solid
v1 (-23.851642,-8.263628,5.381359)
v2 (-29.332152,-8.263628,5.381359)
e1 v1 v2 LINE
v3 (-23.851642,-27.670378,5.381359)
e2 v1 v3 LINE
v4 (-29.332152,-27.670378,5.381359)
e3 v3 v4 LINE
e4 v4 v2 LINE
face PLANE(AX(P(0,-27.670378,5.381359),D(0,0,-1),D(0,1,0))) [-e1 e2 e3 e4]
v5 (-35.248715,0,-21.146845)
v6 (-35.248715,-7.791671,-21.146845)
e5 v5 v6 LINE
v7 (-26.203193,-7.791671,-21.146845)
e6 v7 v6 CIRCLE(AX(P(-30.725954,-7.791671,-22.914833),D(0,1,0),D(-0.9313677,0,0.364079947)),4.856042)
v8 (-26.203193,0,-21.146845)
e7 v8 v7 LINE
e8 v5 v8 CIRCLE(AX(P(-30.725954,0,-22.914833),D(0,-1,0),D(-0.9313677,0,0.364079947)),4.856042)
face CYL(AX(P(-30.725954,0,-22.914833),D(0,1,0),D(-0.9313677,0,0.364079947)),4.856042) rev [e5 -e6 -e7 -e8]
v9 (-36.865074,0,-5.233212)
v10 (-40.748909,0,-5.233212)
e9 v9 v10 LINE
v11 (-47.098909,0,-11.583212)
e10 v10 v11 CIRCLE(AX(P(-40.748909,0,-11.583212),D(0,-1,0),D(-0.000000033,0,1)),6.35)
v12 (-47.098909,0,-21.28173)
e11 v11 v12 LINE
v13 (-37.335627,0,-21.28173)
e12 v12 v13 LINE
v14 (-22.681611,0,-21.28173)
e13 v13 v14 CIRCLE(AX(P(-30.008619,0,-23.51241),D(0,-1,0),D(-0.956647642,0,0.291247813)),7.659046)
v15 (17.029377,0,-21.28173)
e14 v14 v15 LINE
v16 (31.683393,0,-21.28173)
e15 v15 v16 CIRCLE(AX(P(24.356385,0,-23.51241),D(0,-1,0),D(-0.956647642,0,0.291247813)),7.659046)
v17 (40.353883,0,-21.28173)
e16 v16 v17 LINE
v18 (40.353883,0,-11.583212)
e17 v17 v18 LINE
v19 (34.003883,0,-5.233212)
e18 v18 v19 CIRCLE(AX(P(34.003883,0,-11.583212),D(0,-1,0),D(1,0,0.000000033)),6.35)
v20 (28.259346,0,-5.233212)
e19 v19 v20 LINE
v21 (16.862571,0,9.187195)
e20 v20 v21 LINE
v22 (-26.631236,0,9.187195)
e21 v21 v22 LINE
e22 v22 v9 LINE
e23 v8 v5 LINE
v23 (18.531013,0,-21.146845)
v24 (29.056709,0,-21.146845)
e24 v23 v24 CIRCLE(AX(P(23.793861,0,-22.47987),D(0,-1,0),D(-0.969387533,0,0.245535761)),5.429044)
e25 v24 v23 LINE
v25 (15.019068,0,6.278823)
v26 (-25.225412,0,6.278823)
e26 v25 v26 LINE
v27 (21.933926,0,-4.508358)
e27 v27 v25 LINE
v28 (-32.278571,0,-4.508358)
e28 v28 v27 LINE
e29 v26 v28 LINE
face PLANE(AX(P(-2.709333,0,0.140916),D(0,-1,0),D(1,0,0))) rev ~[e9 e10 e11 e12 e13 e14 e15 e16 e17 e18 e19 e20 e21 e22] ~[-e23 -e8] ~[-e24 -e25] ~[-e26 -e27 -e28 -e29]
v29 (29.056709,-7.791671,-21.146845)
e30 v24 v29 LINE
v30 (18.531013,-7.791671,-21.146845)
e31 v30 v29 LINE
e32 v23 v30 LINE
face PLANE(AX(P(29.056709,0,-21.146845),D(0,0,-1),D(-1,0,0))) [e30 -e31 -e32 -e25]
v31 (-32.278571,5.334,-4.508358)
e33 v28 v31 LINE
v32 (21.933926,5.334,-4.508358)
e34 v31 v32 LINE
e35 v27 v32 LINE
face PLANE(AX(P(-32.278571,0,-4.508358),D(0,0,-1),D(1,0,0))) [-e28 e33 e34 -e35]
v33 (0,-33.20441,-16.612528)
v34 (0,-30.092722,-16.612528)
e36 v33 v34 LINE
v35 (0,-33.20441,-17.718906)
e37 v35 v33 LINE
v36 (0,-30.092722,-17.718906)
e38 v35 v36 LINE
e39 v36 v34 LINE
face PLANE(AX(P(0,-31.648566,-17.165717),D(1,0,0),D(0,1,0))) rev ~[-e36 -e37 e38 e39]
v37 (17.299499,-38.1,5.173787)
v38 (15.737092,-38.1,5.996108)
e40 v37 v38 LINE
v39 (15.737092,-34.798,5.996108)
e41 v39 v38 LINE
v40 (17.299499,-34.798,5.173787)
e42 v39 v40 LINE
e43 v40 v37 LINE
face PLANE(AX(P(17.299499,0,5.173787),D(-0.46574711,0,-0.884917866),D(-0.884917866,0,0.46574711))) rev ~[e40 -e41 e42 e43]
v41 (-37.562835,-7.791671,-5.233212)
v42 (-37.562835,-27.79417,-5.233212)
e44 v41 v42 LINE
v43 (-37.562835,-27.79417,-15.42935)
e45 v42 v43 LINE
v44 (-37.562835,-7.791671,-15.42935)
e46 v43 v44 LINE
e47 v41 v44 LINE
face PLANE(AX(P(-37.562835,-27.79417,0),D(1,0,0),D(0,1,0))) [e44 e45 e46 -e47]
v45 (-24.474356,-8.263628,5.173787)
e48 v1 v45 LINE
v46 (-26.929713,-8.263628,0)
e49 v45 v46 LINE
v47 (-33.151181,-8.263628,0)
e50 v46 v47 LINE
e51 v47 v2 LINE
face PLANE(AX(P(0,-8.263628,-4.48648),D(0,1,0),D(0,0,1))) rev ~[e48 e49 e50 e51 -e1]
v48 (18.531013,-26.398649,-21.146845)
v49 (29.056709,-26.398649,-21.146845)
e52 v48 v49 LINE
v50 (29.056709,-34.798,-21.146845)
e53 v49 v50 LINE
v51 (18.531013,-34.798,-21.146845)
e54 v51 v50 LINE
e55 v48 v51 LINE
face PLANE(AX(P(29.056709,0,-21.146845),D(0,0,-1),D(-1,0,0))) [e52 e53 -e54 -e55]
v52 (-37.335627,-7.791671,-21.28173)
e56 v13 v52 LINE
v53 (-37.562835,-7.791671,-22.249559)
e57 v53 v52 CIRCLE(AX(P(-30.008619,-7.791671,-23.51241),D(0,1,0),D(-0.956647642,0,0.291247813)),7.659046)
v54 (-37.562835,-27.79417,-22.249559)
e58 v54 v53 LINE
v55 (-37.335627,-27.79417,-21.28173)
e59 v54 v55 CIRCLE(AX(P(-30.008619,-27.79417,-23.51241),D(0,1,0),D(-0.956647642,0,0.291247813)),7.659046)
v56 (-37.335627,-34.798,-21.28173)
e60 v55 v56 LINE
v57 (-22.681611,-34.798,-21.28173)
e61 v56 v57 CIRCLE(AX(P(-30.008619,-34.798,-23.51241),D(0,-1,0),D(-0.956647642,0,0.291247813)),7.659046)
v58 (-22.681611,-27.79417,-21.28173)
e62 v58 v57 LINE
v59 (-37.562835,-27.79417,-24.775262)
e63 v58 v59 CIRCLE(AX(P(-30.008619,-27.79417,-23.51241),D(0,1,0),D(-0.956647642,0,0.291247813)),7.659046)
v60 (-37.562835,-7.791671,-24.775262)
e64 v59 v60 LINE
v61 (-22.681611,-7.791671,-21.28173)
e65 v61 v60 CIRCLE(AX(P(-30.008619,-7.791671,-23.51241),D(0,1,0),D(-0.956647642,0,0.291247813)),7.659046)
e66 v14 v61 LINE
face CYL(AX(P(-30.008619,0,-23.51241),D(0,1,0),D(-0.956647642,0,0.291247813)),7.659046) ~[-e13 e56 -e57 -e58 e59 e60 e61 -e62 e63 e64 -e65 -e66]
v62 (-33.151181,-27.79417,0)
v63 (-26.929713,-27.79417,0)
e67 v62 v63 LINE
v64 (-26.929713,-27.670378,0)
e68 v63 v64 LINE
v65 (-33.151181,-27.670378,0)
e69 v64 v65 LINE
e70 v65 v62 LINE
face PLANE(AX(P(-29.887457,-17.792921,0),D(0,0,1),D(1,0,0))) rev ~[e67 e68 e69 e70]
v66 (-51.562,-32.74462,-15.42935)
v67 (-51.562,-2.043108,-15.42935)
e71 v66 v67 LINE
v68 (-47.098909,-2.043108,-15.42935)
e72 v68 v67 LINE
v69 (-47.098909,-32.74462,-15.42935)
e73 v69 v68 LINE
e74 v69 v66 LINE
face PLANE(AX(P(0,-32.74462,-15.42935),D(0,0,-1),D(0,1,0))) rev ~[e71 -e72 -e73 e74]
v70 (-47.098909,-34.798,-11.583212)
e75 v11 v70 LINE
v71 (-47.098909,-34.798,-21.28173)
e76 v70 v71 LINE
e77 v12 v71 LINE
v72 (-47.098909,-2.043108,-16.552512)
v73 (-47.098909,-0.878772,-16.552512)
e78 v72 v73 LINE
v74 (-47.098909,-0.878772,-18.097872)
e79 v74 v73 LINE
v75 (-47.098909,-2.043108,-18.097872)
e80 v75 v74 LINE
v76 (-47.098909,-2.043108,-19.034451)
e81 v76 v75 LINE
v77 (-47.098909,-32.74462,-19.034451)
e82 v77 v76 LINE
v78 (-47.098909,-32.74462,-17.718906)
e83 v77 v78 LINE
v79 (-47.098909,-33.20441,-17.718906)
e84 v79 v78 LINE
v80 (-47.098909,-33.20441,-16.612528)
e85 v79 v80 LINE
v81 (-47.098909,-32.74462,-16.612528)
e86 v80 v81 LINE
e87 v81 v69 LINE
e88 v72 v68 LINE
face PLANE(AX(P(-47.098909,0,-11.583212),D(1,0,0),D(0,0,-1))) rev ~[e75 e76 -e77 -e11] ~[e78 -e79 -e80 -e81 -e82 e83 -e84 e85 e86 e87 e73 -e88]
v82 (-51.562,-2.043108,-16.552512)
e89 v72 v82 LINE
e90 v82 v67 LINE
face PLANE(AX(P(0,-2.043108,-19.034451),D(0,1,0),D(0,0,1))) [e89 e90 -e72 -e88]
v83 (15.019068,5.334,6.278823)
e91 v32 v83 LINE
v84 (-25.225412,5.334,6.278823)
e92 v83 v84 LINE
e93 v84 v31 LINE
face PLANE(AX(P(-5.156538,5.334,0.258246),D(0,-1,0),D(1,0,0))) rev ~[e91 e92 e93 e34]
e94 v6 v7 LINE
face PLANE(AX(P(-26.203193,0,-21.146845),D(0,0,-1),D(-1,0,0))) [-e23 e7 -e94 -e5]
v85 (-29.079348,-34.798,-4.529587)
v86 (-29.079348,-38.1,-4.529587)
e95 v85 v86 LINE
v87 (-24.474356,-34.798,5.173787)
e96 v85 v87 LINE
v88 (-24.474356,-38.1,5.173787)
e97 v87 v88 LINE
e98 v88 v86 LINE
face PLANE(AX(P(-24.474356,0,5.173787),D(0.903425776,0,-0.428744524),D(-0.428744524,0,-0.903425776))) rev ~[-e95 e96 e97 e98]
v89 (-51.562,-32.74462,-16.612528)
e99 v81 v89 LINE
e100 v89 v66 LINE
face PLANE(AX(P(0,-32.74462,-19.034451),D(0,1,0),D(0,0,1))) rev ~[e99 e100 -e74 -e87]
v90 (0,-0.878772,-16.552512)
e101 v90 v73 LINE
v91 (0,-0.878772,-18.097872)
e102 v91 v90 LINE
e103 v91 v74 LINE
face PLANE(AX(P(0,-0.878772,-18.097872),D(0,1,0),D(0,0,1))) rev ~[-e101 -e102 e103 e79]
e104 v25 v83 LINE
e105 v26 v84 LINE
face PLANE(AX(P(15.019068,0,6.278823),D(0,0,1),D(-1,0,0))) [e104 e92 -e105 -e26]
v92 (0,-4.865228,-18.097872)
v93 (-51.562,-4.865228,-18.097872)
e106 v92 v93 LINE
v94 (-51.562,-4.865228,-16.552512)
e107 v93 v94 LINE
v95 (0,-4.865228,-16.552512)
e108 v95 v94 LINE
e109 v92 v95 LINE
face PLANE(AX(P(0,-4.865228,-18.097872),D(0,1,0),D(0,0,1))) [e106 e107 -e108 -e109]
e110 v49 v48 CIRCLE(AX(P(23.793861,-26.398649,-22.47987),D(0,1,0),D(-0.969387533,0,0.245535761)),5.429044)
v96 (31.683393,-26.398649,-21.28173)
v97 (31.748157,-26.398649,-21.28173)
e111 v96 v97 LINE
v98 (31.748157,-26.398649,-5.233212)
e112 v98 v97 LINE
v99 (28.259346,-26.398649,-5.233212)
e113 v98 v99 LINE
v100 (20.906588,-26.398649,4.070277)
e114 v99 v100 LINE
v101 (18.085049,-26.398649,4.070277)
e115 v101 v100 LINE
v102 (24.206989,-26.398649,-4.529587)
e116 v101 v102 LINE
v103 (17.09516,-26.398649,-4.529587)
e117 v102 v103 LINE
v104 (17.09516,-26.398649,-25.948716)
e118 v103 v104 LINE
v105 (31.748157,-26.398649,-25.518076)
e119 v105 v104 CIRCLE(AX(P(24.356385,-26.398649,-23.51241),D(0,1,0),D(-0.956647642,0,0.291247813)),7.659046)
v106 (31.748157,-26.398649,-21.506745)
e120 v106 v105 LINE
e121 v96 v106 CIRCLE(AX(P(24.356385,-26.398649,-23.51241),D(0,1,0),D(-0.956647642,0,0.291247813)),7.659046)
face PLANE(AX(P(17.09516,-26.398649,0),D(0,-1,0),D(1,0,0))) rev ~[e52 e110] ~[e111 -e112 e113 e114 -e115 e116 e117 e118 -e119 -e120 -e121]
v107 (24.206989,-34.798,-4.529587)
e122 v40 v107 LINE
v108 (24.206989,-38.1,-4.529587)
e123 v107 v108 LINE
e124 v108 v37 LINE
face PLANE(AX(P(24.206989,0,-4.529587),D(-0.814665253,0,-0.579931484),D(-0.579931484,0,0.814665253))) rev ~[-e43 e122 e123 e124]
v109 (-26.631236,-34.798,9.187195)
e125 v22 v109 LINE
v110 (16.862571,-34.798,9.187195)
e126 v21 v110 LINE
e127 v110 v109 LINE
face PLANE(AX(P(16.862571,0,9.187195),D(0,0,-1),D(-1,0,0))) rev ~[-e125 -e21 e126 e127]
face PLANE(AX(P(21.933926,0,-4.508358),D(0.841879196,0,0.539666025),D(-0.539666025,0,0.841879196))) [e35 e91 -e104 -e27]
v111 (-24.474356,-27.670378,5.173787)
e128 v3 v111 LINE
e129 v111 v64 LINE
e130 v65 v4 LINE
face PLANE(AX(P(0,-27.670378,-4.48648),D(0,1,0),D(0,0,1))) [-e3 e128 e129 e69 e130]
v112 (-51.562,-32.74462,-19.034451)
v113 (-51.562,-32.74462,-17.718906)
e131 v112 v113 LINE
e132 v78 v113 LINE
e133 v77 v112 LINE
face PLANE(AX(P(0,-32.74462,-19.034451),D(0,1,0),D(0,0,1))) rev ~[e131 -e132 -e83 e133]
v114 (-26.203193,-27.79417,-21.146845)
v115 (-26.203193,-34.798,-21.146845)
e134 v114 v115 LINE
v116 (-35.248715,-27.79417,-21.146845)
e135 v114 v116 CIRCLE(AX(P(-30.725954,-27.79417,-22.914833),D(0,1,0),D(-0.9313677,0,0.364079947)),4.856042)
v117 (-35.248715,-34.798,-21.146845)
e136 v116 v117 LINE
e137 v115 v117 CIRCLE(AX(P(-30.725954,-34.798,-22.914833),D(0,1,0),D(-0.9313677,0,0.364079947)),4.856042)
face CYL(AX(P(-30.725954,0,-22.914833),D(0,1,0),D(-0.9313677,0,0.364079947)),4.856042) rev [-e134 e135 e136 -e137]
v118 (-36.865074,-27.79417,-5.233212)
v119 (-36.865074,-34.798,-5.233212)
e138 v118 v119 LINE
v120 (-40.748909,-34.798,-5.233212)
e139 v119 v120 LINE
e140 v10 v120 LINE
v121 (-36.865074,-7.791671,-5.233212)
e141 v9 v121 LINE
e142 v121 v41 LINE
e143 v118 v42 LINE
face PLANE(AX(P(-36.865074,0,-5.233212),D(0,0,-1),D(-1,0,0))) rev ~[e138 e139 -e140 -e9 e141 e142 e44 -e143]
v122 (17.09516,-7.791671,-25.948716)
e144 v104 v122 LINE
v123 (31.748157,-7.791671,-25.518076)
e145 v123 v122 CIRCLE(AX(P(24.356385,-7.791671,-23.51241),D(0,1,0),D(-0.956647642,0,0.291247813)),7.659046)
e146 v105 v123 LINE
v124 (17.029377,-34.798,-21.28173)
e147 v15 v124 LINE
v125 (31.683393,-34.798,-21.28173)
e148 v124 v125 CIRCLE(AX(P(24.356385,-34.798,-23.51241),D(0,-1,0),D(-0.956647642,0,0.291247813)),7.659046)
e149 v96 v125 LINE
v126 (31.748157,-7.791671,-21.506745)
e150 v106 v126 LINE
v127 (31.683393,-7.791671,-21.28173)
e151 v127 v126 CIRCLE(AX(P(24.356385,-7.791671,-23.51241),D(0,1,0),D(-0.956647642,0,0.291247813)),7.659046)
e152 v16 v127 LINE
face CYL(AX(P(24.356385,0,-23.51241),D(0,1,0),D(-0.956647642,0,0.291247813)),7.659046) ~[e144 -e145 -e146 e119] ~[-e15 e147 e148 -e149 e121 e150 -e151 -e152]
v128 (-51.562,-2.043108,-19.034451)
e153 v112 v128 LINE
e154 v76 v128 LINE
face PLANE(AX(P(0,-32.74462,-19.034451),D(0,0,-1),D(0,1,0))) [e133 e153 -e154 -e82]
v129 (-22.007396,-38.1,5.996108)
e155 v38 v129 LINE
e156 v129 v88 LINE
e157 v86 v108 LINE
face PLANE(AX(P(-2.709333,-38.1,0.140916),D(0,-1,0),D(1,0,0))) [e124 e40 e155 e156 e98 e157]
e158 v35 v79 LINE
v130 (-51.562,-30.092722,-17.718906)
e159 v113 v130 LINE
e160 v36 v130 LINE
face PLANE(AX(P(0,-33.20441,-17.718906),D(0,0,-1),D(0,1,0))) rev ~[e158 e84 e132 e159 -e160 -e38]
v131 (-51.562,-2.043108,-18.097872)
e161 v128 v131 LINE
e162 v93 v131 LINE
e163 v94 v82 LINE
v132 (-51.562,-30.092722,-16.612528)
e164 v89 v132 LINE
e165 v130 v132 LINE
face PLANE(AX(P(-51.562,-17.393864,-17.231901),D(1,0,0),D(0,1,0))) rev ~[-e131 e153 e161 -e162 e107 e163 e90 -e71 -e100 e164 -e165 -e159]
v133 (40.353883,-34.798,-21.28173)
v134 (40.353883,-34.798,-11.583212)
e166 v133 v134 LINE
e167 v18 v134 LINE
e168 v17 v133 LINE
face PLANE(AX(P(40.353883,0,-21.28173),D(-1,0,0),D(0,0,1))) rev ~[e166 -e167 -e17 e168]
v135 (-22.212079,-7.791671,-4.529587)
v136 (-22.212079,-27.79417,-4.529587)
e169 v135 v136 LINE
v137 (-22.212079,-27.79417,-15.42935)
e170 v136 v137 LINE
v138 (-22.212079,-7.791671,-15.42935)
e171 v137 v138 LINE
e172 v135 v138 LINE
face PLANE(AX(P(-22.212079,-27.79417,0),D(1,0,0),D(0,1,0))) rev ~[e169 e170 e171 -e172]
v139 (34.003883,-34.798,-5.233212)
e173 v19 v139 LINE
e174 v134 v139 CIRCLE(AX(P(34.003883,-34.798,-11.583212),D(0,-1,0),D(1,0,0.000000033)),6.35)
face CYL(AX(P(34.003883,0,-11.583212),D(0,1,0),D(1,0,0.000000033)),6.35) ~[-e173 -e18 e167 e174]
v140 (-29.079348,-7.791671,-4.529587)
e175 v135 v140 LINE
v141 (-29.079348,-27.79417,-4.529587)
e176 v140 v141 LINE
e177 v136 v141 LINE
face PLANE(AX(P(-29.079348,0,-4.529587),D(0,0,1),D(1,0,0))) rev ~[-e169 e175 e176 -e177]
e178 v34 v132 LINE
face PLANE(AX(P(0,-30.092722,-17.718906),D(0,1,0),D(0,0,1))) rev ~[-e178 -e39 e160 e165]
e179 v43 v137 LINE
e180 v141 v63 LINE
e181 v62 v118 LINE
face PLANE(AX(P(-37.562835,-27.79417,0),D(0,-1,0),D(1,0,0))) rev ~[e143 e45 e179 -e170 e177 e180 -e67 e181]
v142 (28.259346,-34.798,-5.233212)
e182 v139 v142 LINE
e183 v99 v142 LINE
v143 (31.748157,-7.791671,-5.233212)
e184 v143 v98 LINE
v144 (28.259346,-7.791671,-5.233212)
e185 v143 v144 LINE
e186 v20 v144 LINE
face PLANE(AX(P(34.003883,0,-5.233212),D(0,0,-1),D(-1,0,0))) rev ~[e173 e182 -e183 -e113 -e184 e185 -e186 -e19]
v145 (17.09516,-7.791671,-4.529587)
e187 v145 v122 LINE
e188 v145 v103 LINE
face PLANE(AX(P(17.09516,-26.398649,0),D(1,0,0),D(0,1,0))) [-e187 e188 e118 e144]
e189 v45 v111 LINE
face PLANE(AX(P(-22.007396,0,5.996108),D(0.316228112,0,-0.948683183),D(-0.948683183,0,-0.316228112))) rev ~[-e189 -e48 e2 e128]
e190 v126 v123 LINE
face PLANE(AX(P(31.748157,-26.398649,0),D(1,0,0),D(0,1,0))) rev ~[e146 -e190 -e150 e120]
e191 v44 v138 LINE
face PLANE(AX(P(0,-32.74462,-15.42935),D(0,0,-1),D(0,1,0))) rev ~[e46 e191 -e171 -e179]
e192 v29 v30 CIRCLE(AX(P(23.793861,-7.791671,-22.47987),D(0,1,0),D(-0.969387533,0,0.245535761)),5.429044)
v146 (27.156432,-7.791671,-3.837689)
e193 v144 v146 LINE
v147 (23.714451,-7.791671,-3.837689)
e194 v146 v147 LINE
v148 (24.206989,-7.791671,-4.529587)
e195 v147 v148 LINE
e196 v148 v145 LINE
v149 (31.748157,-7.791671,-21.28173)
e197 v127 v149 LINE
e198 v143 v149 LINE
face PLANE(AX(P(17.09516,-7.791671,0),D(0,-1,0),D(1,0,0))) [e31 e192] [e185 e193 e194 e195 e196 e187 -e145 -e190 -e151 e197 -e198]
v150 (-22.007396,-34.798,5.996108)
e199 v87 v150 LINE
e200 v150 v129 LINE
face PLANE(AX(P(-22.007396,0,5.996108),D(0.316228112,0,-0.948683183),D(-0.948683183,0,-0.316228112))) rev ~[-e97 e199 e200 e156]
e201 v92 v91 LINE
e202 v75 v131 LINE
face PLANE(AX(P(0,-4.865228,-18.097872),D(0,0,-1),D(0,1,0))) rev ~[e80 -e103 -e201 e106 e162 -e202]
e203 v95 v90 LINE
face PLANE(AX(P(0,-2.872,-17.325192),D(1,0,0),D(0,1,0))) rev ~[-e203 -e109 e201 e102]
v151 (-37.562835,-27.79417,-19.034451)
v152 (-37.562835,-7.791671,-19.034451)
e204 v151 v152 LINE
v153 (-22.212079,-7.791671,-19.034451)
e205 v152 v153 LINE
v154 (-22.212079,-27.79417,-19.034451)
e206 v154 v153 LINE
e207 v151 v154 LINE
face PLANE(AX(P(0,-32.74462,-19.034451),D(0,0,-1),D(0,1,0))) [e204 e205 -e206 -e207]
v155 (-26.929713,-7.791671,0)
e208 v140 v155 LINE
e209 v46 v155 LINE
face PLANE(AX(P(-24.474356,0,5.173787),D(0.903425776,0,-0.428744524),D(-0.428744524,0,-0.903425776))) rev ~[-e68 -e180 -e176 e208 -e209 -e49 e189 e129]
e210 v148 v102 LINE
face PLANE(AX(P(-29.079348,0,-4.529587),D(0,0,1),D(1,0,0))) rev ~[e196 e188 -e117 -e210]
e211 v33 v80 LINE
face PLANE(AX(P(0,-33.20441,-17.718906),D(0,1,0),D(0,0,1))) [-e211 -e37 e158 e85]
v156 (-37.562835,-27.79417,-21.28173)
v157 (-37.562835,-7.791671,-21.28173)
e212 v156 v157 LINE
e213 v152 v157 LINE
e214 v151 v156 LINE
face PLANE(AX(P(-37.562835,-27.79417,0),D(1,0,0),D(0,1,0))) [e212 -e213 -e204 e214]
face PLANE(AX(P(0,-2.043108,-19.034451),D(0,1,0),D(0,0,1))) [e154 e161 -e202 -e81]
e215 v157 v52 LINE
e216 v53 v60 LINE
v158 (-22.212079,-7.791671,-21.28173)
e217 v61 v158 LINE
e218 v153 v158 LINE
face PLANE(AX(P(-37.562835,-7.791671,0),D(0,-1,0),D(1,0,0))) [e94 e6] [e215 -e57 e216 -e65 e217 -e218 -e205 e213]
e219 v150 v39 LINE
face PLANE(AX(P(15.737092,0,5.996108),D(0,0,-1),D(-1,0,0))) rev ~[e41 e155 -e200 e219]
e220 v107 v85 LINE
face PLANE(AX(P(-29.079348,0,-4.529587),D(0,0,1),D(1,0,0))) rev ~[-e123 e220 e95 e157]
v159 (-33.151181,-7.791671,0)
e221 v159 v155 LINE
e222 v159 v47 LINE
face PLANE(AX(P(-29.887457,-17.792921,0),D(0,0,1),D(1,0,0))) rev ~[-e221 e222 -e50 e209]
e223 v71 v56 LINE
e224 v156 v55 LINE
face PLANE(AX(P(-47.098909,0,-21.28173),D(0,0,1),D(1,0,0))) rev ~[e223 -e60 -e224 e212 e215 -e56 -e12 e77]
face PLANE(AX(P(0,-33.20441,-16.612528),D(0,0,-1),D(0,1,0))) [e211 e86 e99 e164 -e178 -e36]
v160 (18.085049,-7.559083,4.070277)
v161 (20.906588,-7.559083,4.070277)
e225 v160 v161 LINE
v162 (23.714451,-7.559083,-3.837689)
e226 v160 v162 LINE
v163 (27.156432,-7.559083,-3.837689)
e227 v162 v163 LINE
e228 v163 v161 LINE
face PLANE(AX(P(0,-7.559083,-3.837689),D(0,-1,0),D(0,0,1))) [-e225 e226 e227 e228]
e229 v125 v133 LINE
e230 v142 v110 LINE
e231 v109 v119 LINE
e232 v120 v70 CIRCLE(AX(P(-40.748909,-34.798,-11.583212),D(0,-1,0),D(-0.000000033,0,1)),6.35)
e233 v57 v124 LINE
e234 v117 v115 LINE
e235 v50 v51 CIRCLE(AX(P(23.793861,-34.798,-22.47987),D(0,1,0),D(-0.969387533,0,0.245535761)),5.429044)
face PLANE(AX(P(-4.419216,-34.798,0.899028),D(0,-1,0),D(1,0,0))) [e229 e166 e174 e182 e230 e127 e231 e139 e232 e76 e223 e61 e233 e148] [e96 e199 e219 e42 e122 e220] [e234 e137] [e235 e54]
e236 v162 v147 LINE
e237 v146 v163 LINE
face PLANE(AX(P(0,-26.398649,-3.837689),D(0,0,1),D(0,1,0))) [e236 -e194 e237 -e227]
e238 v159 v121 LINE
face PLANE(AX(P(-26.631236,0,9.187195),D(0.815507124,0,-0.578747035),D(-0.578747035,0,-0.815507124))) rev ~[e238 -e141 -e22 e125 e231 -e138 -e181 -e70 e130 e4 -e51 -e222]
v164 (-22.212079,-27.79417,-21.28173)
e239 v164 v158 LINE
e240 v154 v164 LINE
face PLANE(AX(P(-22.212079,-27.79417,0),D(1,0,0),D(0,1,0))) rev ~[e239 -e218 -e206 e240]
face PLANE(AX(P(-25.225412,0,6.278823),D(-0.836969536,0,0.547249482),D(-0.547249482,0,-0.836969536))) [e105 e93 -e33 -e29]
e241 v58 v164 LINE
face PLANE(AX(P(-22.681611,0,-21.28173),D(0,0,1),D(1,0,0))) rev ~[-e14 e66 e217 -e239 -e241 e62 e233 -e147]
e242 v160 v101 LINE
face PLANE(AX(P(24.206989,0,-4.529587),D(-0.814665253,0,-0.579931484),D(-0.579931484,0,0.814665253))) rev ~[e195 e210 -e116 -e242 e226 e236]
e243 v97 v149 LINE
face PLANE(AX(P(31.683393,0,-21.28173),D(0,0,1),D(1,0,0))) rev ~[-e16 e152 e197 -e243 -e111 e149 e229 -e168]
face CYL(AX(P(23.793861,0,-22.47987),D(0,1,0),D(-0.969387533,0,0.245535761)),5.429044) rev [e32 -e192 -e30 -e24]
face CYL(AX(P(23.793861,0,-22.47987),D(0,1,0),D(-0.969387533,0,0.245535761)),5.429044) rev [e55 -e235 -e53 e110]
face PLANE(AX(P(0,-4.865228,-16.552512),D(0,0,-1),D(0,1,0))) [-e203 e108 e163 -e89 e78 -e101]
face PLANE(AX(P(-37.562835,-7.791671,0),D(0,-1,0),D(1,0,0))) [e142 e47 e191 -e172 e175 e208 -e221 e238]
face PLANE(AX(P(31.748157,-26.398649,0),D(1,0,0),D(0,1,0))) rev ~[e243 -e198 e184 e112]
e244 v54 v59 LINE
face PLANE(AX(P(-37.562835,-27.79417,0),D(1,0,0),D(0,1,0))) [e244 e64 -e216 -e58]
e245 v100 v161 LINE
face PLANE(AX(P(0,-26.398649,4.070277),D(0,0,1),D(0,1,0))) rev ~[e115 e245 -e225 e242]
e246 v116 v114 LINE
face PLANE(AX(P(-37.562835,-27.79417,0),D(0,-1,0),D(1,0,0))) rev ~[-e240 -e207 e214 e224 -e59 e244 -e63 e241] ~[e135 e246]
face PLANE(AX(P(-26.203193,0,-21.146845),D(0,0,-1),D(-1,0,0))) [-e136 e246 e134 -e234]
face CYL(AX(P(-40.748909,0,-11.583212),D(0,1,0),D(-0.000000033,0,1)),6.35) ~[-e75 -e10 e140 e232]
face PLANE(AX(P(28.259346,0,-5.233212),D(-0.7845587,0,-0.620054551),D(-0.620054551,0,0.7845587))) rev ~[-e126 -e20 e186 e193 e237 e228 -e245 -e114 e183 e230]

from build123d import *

# Parameters (mm, degrees)
F1_DEPTH  = 34.798
F2_W      = 14.652997
F2_H      = 18.606977
F2_W_2    = 15.350757
F2_H_2    = 20.002499
F3_DEPTH  = 33.02
F4_W      = 19.40675
F4_H      = 9.867839
F5_DEPTH  = 230.124
F6_W      = 18.839565
F6_H      = 7.907965
F7_DEPTH  = 125.476
F9_DEPTH  = 83.566
F11_DEPTH = 38.1
F13_DEPTH = 5.334
F14_W     = 30.701512
F14_H     = 3.605101
F15_DEPTH = 51.562
F16_W     = 3.986457
F16_H     = 1.545359
F17_DEPTH = 90.932
F18_W     = 3.111688
F18_H     = 1.106378
F19_DEPTH = 112.1664


with BuildPart() as f1:
    # F0 (on Front) → F1 (new body)
    with BuildSketch(Plane.XZ):
        Polygon((-26.631236, 9.187195), (-36.865074, -5.233212), (28.259346, -5.233212), (16.862571, 9.187195), align=None)
        with BuildLine():
            Line((-36.865074, -5.233212), (-40.748909, -5.233212))
            ThreePointArc((-40.748909, -5.233212), (-45.239037, -7.093084), (-47.098909, -11.583212))
            Line((-47.098909, -11.583212), (-47.098909, -21.28173))
            Line((-47.098909, -21.28173), (-37.335627, -21.28173))
            ThreePointArc((-37.335627, -21.28173), (-30.008619, -31.171456), (-22.681611, -21.28173))
            Line((-22.681611, -21.28173), (17.029377, -21.28173))
            ThreePointArc((17.029377, -21.28173), (24.356385, -31.171456), (31.683393, -21.28173))
            Line((31.683393, -21.28173), (40.353883, -21.28173))
            Line((40.353883, -21.28173), (40.353883, -11.583212))
            ThreePointArc((40.353883, -11.583212), (38.494011, -7.093084), (34.003883, -5.233212))
            Line((34.003883, -5.233212), (28.259346, -5.233212))
            Line((28.259346, -5.233212), (-36.865074, -5.233212))
        make_face()
    extrude(amount=F1_DEPTH)

    # F2 (on Top) → F3 (cut)
    with BuildSketch(Plane.XY):
        with Locations((24.421658, -17.09516)):
            Rectangle(F2_W, F2_H)
        with Locations((-29.887457, -17.792921)):
            Rectangle(F2_W_2, F2_H_2)
    extrude(amount=-F3_DEPTH, mode=Mode.SUBTRACT)

    # F4 (on Right) → F5 (cut)
    with BuildSketch(Plane.YZ):
        with Locations((-17.967003, 0.447439)):
            Rectangle(F4_W, F4_H)
    extrude(amount=-F5_DEPTH, mode=Mode.SUBTRACT)

    # F6 (on Right) → F7 (cut)
    with BuildSketch(Plane.YZ):
        with Locations((-16.978866, 0.116294)):
            Rectangle(F6_W, F6_H)
    extrude(amount=F7_DEPTH, mode=Mode.SUBTRACT)

    # F8 (on Front) → F9 (cut)
    with BuildSketch(Plane.XZ):
        with BuildLine():
            Line((-26.203193, -21.146845), (-35.248715, -21.146845))
            ThreePointArc((-35.248715, -21.146845), (-30.725954, -27.770875), (-26.203193, -21.146845))
        make_face()
        with BuildLine():
            ThreePointArc((18.531013, -21.146845), (23.793861, -27.908914), (29.056709, -21.146845))
            Line((29.056709, -21.146845), (18.531013, -21.146845))
        make_face()
    extrude(amount=F9_DEPTH, mode=Mode.SUBTRACT)

    # F10 (on Front) → F11 (join)
    with BuildSketch(Plane.XZ):
        Polygon((-24.474356, 5.173787), (-29.079348, -4.529587), (24.206989, -4.529587), (17.299499, 5.173787), (15.737092, 5.996108), (-22.007396, 5.996108), align=None)
    extrude(amount=F11_DEPTH)

    # F12 (on Front) → F13 (join)
    with BuildSketch(Plane.XZ):
        Polygon((21.933926, -4.508358), (15.019068, 6.278823), (-25.225412, 6.278823), (-32.278571, -4.508358), align=None)
    extrude(amount=-F13_DEPTH)

    # F14 (on Right) → F15 (join)
    with BuildSketch(Plane.YZ):
        with Locations((-17.393864, -17.231901)):
            Rectangle(F14_W, F14_H)
    extrude(amount=-F15_DEPTH)

    # F16 (on Right) → F17 (cut)
    with BuildSketch(Plane.YZ):
        with Locations((-2.872, -17.325192)):
            Rectangle(F16_W, F16_H)
    extrude(amount=-F17_DEPTH, mode=Mode.SUBTRACT)

    # F18 (on Right) → F19 (cut)
    with BuildSketch(Plane.YZ):
        with Locations((-31.648566, -17.165717)):
            Rectangle(F18_W, F18_H)
    extrude(amount=-F19_DEPTH, mode=Mode.SUBTRACT)


solid = f1.part
